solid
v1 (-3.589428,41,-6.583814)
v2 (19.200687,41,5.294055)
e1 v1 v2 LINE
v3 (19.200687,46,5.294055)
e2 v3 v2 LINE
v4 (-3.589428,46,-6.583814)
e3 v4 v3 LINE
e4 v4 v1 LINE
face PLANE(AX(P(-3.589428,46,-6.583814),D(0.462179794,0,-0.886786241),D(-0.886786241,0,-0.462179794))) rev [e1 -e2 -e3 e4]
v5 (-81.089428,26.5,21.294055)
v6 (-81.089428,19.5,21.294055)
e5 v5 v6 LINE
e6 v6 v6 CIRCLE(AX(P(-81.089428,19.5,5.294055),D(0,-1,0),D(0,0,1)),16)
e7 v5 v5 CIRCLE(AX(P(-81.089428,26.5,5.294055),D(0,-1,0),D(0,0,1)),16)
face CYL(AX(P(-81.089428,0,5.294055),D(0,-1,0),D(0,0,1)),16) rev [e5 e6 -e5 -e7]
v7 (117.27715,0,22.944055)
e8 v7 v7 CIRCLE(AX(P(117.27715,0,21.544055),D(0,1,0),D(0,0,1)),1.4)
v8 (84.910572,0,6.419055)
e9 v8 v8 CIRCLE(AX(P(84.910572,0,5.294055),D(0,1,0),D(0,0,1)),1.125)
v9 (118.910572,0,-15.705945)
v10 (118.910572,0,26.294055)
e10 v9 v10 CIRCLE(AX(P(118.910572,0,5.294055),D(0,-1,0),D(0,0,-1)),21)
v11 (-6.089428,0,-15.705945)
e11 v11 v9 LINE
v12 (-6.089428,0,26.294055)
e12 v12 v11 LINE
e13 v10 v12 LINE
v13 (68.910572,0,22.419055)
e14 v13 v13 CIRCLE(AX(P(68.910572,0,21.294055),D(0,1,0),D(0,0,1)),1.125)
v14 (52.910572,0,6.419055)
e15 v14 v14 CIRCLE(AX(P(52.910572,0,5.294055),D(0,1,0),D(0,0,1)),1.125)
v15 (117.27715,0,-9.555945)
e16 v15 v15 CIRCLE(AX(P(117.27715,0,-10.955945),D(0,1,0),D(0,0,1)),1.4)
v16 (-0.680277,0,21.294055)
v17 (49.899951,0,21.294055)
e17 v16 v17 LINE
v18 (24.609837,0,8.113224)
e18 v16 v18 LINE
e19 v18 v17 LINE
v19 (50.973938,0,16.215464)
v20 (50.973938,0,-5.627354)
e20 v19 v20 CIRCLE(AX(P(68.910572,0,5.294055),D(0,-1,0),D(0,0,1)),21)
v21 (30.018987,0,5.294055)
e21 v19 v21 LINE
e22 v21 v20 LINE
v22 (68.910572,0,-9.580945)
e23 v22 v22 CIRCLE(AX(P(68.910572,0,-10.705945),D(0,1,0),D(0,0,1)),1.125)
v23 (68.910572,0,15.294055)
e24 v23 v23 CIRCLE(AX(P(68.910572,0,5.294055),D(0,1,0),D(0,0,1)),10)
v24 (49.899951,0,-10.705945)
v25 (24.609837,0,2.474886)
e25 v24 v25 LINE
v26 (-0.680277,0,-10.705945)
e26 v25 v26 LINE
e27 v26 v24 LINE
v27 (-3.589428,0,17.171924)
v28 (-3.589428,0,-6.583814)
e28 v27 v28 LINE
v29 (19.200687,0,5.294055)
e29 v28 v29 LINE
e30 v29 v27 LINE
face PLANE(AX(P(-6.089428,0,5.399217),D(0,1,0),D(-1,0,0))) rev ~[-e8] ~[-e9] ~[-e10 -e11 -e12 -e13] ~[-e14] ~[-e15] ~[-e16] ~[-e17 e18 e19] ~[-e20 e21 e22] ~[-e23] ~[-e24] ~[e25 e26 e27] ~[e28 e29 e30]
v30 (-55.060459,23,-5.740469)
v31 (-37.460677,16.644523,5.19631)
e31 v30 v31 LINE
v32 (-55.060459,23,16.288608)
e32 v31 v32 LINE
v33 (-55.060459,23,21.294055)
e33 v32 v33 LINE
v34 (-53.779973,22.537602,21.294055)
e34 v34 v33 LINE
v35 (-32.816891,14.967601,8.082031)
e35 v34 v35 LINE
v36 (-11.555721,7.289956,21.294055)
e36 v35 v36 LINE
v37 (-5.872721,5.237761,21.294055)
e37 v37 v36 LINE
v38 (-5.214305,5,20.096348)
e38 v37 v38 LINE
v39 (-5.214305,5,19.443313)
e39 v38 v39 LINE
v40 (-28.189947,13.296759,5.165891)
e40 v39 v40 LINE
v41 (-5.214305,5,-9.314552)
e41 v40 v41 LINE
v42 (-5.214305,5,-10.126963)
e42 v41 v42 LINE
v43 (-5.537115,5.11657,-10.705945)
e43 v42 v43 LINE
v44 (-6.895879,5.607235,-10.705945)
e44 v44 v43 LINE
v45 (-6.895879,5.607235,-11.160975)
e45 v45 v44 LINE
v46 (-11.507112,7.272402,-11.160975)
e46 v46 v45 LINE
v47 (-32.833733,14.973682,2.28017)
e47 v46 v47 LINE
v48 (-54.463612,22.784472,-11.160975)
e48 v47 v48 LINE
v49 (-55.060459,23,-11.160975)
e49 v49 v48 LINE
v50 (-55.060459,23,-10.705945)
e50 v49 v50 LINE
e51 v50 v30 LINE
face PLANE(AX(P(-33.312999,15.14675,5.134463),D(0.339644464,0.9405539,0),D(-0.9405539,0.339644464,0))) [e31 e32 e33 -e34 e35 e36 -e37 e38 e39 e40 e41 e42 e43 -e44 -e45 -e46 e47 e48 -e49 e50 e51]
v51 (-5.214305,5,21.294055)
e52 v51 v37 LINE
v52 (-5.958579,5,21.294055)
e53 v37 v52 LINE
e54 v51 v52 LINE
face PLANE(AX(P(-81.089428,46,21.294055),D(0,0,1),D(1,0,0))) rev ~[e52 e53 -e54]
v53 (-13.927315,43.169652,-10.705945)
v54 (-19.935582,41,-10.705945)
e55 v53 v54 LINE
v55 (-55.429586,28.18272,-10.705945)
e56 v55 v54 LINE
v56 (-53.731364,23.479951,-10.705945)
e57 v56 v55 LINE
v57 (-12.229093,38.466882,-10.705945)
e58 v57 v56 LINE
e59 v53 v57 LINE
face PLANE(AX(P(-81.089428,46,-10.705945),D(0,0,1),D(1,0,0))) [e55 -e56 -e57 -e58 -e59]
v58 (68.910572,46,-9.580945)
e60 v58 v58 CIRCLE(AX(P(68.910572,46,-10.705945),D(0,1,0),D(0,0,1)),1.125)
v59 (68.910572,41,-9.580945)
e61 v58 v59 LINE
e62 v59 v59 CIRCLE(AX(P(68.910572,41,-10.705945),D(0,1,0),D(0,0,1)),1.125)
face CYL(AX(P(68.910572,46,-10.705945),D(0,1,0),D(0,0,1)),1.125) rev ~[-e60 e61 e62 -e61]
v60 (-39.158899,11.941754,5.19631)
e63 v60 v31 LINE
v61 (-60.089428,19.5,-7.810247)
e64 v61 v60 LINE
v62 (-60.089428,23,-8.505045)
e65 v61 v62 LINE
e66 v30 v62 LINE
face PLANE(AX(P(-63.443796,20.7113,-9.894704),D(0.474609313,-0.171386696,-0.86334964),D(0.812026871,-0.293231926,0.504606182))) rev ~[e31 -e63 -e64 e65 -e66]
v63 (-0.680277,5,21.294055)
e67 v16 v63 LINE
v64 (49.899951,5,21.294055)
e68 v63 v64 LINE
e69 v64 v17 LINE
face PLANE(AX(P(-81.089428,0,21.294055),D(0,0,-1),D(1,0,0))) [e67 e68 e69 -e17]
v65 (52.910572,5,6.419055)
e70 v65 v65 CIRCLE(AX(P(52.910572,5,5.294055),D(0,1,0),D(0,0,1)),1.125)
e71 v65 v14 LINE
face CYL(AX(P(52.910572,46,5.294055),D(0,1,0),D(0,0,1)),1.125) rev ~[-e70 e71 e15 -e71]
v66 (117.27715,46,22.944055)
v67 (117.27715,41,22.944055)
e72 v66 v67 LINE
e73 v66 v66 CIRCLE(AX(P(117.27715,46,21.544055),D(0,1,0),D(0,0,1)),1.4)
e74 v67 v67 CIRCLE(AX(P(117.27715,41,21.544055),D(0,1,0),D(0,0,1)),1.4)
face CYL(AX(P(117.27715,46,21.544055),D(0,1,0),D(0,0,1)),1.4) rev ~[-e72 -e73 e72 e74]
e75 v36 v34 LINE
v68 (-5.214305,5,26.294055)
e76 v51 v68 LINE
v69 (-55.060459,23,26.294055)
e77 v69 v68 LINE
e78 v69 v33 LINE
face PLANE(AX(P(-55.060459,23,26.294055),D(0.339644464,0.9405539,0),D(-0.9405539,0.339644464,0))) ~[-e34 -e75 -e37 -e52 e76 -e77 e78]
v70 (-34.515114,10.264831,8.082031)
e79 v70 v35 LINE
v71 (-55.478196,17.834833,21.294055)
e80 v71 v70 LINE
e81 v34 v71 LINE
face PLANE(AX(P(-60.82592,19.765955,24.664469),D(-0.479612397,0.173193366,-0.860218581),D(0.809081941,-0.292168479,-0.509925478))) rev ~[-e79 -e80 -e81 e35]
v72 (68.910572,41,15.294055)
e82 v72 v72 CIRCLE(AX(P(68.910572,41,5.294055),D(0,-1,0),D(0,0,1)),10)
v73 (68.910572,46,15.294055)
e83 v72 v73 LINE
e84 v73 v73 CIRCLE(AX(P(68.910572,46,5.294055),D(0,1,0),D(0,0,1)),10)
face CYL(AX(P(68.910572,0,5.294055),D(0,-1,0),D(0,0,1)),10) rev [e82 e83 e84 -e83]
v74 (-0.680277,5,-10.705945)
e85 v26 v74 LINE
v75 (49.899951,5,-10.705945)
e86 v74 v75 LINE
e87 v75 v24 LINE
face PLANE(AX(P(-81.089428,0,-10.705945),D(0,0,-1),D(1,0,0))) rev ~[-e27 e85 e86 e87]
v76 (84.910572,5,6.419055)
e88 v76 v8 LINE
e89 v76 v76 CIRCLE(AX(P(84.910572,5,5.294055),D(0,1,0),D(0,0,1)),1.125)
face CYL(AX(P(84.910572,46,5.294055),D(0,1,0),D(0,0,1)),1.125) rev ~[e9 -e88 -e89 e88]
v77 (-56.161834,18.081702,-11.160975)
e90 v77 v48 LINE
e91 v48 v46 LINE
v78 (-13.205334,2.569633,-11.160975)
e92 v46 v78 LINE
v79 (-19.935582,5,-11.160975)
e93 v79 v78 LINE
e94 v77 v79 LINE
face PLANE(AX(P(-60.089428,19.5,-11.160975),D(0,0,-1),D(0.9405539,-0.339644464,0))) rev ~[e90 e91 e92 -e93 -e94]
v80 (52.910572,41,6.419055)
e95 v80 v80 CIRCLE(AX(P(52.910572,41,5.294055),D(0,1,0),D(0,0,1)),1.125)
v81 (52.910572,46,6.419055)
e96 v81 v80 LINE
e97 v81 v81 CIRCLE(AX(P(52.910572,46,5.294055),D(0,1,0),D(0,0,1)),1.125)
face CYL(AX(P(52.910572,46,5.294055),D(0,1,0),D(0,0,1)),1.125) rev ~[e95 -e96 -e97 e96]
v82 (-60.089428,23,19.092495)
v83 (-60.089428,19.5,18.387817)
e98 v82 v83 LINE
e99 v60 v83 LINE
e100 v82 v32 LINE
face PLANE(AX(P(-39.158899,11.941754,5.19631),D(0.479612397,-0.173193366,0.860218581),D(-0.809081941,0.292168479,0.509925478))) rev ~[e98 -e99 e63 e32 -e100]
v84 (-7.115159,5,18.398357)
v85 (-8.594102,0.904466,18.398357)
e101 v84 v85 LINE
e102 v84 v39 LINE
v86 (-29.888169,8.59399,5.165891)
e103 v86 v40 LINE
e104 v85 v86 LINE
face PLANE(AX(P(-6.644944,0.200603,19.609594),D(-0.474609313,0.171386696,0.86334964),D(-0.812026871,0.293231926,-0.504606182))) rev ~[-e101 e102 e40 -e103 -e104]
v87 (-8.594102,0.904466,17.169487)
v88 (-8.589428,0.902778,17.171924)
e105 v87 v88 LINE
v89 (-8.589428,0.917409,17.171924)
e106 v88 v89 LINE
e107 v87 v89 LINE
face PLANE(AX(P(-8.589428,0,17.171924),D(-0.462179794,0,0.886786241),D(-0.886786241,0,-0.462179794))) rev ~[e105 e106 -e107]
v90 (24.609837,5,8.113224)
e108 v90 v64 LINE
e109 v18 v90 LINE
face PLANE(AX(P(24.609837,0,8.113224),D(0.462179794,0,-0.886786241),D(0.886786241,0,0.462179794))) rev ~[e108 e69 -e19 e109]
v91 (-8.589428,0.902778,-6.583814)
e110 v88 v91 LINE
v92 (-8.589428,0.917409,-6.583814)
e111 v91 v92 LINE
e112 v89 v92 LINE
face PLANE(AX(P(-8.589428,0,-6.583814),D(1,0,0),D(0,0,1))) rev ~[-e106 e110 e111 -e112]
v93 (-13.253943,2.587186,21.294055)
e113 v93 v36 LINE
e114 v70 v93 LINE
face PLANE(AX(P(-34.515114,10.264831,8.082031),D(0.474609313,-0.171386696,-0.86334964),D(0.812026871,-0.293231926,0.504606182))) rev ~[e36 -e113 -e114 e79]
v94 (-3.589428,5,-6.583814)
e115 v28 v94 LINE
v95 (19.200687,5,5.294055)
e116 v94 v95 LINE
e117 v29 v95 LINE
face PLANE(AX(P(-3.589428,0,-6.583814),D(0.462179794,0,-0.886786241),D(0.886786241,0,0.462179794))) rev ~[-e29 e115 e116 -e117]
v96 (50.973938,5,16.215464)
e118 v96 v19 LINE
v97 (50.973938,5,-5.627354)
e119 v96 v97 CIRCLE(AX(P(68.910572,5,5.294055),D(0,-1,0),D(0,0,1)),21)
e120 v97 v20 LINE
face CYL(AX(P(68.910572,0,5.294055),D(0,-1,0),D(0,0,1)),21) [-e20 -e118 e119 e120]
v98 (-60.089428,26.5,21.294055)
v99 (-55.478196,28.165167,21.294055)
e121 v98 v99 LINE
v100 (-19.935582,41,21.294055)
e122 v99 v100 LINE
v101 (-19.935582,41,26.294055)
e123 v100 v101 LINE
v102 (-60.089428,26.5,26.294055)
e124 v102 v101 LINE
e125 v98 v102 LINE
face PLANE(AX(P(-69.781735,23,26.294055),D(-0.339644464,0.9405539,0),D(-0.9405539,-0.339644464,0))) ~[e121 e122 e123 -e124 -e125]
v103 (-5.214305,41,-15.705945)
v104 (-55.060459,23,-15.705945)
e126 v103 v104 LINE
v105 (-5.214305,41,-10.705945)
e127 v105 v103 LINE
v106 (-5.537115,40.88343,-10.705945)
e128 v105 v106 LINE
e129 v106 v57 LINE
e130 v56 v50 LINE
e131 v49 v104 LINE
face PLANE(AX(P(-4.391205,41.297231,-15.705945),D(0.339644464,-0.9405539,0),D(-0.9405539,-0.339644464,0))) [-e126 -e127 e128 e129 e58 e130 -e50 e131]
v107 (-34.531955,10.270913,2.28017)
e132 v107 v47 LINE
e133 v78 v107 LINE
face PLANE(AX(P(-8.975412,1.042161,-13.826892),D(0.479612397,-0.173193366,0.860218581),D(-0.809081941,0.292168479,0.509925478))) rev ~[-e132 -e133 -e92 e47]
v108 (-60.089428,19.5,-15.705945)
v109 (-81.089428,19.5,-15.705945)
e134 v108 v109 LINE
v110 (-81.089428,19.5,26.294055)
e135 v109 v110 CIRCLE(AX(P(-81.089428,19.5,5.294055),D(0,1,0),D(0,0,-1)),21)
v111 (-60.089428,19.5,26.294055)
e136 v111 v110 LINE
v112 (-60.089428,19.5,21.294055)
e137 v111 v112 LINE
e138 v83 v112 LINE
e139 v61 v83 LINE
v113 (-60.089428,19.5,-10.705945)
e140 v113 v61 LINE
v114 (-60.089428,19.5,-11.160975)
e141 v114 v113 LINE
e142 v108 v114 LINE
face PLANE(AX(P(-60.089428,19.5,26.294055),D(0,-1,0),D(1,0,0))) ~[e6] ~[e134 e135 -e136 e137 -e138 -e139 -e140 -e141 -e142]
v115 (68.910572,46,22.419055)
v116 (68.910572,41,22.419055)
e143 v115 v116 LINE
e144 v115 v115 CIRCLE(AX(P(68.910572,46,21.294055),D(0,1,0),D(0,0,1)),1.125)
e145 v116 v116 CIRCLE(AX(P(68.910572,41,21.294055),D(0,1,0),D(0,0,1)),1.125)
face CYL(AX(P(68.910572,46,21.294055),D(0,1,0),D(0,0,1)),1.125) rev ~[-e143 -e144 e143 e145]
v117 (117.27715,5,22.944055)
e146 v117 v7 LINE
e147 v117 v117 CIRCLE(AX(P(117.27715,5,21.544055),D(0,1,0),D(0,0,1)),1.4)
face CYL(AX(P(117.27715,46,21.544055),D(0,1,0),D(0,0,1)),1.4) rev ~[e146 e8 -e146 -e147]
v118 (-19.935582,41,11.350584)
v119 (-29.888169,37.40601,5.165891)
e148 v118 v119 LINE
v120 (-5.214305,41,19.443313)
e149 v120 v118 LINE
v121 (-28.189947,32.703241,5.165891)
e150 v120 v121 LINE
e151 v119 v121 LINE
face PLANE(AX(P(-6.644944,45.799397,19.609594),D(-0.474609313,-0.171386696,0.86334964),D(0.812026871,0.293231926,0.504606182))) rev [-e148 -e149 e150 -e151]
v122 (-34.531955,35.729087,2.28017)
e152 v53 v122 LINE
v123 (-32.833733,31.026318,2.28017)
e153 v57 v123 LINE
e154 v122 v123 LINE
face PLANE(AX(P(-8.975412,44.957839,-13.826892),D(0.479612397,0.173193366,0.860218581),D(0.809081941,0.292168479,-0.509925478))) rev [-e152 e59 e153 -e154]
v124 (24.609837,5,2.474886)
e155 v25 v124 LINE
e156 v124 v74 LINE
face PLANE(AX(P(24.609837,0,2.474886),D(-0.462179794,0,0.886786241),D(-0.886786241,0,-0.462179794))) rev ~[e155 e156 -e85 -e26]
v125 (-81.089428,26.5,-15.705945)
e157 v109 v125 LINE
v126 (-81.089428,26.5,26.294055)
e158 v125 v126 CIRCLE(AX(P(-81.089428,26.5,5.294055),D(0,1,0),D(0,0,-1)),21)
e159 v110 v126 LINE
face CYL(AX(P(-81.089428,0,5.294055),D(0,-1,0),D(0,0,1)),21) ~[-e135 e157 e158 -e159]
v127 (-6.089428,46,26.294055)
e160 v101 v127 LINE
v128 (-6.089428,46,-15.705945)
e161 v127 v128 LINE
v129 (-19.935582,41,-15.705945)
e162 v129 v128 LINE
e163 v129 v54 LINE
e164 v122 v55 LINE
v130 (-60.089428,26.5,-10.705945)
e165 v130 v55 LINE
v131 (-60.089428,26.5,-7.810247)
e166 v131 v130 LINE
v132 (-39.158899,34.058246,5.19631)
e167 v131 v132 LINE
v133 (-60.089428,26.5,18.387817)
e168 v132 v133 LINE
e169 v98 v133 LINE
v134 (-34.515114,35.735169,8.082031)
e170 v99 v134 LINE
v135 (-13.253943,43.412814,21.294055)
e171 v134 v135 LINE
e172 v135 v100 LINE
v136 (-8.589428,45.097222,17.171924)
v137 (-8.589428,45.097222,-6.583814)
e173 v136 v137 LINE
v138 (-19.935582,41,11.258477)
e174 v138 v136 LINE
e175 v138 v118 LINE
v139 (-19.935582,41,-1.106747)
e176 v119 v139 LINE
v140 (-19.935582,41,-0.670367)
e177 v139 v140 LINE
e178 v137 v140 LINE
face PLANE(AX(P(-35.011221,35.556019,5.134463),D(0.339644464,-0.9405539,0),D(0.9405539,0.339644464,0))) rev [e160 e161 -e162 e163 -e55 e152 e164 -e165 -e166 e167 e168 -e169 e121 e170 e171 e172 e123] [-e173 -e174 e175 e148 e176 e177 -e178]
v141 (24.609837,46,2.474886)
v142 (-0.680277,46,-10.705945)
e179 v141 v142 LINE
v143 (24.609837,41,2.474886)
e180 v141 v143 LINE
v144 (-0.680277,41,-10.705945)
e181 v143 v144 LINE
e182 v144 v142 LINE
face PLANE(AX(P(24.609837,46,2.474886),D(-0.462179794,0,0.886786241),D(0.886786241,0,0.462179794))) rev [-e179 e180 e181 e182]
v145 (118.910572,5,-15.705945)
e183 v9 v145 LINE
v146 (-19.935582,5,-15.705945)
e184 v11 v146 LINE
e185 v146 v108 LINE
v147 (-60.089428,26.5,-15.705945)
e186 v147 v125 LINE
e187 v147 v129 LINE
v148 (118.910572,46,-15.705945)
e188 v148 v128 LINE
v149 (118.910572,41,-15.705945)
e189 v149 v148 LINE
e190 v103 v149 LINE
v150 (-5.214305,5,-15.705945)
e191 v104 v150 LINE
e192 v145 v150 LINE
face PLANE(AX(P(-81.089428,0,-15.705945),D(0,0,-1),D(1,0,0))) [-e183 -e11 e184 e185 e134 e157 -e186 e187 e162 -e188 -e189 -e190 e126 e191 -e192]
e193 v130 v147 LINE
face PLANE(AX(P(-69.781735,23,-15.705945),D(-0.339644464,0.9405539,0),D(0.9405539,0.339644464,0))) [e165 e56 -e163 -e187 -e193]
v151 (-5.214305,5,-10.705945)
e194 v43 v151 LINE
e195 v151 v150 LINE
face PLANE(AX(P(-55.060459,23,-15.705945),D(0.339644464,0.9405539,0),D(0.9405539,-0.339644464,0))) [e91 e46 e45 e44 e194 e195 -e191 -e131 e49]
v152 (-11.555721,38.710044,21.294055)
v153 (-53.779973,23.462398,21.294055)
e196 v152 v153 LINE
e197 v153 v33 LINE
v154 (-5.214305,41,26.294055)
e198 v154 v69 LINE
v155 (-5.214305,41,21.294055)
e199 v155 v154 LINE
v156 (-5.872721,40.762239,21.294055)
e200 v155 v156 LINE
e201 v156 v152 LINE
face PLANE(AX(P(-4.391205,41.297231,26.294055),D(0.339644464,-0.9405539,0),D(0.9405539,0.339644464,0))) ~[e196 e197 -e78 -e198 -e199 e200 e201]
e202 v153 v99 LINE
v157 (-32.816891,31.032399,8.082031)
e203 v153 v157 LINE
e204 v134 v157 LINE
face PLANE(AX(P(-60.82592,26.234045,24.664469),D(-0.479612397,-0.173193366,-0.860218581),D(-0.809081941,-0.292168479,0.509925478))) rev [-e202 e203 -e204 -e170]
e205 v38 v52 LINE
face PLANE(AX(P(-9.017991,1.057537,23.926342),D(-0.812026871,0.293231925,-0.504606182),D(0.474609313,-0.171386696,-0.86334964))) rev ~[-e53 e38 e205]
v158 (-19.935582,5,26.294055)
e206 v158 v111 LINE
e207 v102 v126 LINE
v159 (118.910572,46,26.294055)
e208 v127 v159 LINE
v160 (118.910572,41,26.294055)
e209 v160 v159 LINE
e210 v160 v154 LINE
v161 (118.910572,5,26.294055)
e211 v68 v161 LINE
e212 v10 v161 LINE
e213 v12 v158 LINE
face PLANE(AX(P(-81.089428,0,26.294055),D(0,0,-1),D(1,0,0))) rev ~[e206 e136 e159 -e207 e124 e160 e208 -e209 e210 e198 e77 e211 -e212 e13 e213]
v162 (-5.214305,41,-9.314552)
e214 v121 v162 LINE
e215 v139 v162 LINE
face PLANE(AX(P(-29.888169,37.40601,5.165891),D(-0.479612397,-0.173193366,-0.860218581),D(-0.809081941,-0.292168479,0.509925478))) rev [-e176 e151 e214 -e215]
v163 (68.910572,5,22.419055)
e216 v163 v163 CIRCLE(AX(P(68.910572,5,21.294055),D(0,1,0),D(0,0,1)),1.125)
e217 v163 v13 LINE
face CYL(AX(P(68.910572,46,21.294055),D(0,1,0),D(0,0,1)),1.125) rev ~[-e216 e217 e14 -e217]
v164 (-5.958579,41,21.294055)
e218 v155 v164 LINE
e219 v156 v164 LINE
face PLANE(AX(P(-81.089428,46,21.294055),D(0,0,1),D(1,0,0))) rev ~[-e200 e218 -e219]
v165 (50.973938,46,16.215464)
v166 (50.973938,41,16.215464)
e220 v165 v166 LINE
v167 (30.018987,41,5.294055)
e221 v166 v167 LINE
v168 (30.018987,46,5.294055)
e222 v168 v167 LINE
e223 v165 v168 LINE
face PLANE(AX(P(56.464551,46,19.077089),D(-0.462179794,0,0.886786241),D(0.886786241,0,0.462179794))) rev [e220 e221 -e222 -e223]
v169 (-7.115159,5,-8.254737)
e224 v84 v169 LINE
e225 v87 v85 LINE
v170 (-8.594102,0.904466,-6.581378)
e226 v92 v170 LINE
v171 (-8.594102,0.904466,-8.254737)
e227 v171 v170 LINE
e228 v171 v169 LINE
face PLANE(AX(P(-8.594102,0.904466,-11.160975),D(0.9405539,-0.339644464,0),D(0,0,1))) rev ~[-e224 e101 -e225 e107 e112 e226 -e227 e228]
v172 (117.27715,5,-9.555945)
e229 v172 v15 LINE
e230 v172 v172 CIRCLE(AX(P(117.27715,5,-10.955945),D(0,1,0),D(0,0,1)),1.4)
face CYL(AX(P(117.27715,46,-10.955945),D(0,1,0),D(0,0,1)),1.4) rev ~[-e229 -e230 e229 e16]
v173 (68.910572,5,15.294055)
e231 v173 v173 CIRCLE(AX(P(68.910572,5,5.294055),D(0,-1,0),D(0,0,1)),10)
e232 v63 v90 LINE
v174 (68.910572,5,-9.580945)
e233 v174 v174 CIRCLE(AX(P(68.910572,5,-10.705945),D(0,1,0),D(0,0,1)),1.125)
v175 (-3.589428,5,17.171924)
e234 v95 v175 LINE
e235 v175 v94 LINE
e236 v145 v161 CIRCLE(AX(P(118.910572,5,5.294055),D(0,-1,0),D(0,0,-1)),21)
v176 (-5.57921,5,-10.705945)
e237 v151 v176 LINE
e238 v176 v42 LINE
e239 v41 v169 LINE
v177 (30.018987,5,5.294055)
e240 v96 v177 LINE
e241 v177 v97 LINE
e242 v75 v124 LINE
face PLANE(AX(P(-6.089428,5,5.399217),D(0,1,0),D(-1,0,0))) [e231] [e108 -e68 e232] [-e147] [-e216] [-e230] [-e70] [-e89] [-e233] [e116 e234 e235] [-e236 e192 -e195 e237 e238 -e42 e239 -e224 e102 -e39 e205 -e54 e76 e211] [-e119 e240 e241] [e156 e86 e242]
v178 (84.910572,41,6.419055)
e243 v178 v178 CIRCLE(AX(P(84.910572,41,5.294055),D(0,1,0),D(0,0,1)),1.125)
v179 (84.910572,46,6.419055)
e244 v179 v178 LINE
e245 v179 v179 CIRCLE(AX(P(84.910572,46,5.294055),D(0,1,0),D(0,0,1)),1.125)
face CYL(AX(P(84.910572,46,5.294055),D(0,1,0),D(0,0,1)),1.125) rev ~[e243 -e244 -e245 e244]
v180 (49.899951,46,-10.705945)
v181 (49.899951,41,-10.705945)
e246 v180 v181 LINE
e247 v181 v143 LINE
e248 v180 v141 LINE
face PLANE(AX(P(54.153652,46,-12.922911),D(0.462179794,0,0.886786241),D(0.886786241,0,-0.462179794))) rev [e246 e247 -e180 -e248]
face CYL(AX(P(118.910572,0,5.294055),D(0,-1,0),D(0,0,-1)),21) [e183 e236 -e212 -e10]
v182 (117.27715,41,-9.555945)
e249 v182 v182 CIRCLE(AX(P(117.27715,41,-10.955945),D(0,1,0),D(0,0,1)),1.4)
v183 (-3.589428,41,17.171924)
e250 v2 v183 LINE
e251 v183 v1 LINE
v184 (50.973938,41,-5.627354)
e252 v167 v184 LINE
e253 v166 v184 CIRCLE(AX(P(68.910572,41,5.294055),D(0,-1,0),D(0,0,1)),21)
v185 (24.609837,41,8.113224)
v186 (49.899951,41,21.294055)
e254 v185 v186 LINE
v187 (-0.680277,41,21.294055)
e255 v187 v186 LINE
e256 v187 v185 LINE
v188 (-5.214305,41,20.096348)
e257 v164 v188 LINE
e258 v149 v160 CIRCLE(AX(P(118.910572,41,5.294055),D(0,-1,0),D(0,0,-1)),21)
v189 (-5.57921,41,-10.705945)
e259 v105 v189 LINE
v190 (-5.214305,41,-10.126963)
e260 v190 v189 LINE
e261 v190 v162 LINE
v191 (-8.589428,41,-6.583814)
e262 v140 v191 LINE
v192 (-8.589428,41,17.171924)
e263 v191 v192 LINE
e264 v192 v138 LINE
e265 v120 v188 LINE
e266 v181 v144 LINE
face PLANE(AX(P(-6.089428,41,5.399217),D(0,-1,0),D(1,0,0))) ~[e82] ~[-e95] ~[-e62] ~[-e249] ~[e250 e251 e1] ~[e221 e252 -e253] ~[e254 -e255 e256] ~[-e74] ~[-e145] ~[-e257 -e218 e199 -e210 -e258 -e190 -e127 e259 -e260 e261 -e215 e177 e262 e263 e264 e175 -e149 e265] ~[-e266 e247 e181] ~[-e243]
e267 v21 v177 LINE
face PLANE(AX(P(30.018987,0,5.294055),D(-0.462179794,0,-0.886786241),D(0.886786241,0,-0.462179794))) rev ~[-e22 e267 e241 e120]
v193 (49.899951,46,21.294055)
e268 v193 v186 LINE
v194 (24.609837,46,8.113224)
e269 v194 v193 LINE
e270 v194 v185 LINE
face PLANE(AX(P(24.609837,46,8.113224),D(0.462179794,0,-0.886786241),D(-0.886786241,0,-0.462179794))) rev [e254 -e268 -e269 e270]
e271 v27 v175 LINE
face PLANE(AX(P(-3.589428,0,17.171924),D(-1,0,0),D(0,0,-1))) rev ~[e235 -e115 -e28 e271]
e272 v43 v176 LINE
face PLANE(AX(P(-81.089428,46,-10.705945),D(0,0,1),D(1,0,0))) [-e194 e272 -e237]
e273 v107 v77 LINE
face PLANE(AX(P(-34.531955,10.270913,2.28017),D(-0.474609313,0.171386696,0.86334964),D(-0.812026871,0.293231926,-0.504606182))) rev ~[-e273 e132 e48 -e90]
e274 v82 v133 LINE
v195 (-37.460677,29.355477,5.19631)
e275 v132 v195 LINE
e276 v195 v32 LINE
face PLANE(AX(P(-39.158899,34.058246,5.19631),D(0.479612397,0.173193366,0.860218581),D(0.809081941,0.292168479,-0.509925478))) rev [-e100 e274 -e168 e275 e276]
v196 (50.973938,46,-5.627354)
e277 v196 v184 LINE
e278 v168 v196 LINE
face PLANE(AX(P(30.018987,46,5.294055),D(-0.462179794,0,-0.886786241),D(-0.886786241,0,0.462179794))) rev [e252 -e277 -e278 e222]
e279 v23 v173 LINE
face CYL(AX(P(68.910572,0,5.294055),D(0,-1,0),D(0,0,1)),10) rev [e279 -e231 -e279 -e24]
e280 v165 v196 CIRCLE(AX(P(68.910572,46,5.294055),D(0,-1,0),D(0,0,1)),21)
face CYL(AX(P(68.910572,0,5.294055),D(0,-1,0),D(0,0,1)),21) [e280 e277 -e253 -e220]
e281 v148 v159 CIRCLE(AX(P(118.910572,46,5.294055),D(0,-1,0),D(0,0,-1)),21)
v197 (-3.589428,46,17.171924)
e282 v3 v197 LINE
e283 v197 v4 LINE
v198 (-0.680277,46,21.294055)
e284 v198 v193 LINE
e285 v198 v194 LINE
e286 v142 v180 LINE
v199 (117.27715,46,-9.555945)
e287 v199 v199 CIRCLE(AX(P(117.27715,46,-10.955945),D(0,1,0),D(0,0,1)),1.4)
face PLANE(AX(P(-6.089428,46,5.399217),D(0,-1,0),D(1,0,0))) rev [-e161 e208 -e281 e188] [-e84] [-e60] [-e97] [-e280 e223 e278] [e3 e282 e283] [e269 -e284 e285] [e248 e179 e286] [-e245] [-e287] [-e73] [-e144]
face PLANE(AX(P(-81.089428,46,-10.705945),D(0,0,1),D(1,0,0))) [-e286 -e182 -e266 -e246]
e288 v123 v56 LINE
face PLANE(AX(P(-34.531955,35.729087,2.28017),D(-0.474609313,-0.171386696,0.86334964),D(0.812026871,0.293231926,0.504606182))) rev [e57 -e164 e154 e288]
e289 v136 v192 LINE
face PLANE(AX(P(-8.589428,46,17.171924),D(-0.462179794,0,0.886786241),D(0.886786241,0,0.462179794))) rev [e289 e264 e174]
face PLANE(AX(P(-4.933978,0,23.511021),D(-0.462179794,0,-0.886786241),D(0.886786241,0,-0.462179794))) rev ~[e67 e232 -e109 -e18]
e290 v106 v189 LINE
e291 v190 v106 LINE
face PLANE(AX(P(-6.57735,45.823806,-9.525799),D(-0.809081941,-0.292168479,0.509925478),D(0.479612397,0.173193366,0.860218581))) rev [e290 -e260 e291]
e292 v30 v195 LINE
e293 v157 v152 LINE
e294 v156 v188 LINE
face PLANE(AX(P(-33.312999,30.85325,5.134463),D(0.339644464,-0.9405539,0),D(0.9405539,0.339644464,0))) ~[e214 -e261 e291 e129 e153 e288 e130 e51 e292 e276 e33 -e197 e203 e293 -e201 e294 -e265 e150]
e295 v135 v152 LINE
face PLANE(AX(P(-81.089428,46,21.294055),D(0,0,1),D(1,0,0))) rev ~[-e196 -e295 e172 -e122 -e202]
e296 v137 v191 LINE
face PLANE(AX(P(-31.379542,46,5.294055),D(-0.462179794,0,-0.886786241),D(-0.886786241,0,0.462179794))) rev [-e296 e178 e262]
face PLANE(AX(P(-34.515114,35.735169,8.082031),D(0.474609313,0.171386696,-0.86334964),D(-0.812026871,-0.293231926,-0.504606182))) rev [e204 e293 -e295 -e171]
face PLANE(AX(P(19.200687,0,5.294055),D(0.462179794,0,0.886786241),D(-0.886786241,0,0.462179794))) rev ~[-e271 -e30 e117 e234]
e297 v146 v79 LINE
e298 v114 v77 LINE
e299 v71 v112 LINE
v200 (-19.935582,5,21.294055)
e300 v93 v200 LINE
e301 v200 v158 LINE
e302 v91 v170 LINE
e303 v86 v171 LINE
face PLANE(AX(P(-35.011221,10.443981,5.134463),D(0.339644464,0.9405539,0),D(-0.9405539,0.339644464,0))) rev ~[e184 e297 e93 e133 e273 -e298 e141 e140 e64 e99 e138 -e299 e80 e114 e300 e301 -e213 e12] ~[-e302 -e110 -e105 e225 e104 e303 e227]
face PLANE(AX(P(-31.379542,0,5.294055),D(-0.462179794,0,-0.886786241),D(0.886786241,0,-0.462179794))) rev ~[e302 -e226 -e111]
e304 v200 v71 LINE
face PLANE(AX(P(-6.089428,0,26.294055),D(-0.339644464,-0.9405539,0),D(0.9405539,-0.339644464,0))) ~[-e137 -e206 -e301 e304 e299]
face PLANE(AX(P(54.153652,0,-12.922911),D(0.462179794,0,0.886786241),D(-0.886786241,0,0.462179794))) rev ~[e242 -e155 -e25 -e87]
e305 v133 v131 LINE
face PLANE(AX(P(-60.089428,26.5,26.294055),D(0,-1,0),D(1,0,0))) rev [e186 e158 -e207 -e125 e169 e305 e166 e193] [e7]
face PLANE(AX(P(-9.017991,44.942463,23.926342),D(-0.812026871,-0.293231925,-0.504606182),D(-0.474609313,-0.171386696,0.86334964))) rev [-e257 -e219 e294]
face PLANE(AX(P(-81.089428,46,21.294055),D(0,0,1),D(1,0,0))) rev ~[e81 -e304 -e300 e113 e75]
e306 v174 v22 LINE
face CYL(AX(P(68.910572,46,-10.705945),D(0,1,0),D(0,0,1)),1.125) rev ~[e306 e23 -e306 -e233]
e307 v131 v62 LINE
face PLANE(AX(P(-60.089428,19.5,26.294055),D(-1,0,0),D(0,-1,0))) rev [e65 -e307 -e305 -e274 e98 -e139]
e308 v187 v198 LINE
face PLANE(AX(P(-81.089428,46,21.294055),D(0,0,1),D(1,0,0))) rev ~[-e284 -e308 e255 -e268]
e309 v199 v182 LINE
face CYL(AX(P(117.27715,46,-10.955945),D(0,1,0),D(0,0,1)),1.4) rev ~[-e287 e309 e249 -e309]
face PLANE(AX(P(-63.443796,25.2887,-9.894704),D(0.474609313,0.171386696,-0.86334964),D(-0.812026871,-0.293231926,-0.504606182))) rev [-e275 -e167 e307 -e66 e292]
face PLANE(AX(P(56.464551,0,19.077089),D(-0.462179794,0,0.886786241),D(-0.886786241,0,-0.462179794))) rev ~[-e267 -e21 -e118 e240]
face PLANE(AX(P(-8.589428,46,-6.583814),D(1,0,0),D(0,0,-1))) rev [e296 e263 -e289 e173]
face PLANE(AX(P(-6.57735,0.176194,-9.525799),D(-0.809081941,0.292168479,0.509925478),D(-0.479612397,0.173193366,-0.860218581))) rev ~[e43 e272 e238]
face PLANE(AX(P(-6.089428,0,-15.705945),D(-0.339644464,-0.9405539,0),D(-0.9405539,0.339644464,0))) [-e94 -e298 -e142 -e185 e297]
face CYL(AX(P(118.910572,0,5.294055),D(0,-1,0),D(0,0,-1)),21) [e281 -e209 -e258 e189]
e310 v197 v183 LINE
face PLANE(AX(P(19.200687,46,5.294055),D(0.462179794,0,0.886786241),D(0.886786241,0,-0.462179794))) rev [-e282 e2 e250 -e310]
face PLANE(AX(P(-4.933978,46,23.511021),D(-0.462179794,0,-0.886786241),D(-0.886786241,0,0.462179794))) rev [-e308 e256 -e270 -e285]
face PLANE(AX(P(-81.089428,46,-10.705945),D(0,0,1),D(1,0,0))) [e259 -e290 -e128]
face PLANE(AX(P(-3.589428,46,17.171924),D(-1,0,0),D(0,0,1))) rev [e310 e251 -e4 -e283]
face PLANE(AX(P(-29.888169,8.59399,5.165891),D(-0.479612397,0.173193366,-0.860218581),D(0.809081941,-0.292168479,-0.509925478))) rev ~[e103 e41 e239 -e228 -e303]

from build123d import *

# Parameters (mm, degrees)
SKETCH_1_R               = 21
SKETCH_1_R_2             = 16
EXTRUDE_1_DEPTH          = 46
SKETCH_1_R_3             = 10
EXTRUDE_1_2_DEPTH        = 46
SKETCH_2_W               = 150
SKETCH_2_H               = 5
EXTRUDE_3_DEPTH          = 5
SKETCH_3_W               = 150
SKETCH_3_H               = 5
EXTRUDE_4_DEPTH          = 5
EXTRUDE_5_DEPTH          = 5
SKETCH_6_W               = 169.409921662
SKETCH_6_H               = 36
CUT_EXTRUDE_1_DEPTH      = 42
CUT_EXTRUDE_4_REACH      = 155.15
EXTRUDE_7_DEPTH          = 5
EXTRUDE_8_REACH          = 155.15
EXTRUDE_8_END_RADIUS     = 21
SKETCH_10_W              = 21
SKETCH_10_H              = 7
SKETCH_11_W              = 54.75
SKETCH_11_H              = 32.4550301
CUT_EXTRUDE_5_DEPTH      = 5
EXTRUDE_15_DEPTH         = 5
SKETCH_13_R              = 1.125
CUT_EXTRUDE_6_DEPTH      = 150.607304507
CUT_EXTRUDE_6_DEPTH_BACK = 150.607304507
SKETCH_14_R              = 1.4
CUT_EXTRUDE_7_DEPTH      = 150.607304507
CUT_EXTRUDE_7_DEPTH_BACK = 150.607304507


with BuildPart() as part:
    # 스케치1 → 보스-돌출1 (new body)
    with BuildSketch(Plane(origin=(0, 0, 0), x_dir=(1, 0, 0), z_dir=(0, 1, 0))):
        with Locations(Location((-81.089427727, -5.294054995, 0), (0, 0, 270))):
            Circle(SKETCH_1_R)
        with Locations(Location((-81.089427727, -5.294054995, 0), (0, 0, 270))):
            Circle(SKETCH_1_R_2, mode=Mode.SUBTRACT)
    extrude(amount=EXTRUDE_1_DEPTH)



with BuildPart() as body_2:
    # 스케치1 → Extrude 1 2 (new body)
    with BuildSketch(Plane(origin=(0, 0, 0), x_dir=(1, 0, 0), z_dir=(0, 1, 0))):
        with BuildLine():
            Line((68.910572273, 15.705945005), (118.910572273, 15.705945005))
            ThreePointArc((118.910572273, 15.705945005), (139.910572273, -5.294054995), (118.910572273, -26.294054995))
            Line((118.910572273, -26.294054995), (68.910572273, -26.294054995))
            ThreePointArc((68.910572273, -26.294054995), (47.910572273, -5.294054995), (68.910572273, 15.705945005))
        make_face()
        with Locations(Location((68.910572273, -5.294054995, 0), (0, 0, 270))):
            Circle(SKETCH_1_R_3, mode=Mode.SUBTRACT)
    extrude(amount=EXTRUDE_1_2_DEPTH)


with BuildPart() as part_1:
    add(part.part)

    add(body_2.part)  # 보스-돌출3 merges body 2
    # 스케치2 → 보스-돌출3 (add)
    with BuildSketch(Plane(origin=(0, 46, 0), x_dir=(1, 0, 0), z_dir=(0, 1, 0))):
        with Locations((-6.089427727, -23.794054995)):
            Rectangle(SKETCH_2_W, SKETCH_2_H)
        with Locations((-6.089427727, 13.205945005)):
            Rectangle(SKETCH_2_W, SKETCH_2_H)
    extrude(amount=-EXTRUDE_3_DEPTH)

    # 스케치3 → 보스-돌출4 (add)
    with BuildSketch(Plane.XZ):
        with Locations((-6.089427727, -13.205945005)):
            Rectangle(SKETCH_3_W, SKETCH_3_H)
        with Locations((-6.089427727, 23.794054995)):
            Rectangle(SKETCH_3_W, SKETCH_3_H)
    extrude(amount=-EXTRUDE_4_DEPTH)

    # 스케치4 → 보스-돌출5 (add)
    with BuildSketch(Plane.XZ):
        Polygon((-36.788692473, 8.113223678), (-7.244877213, 23.511020598), (-6.089427727, 21.294054995), (-4.933978242, 23.511020598), (24.609837018, 8.113223678), (54.153652279, 23.511020598), (56.46455125, 19.077089392), (30.018987378, 5.294054995), (56.46455125, -8.488979402), (54.153652279, -12.922910608), (24.609837018, 2.474886312), (-4.933978242, -12.922910608), (-7.244877213, -12.922910608), (-36.788692473, 2.474886312), (-66.332507733, -12.922910608), (-68.643406704, -8.488979402), (-42.197842833, 5.294054995), (-68.643406704, 19.077089392), (-66.332507733, 23.511020598), align=None)
        Polygon((-31.379542113, 5.294054995), (-8.589427727, -6.583813521), (-8.589427727, 17.17192351), align=None, mode=Mode.SUBTRACT)
        Polygon((-3.589427727, -6.583813521), (19.200686659, 5.294054995), (-3.589427727, 17.17192351), align=None, mode=Mode.SUBTRACT)
    extrude_5 = extrude(amount=-EXTRUDE_5_DEPTH)

    # 스케치6 → 컷-돌출1 (cut)
    with BuildSketch(Plane(origin=(0, 0, -15.705945005), x_dir=(-1, 0, 0), z_dir=(0, 0, -1))):
        with Locations((-75.35345041, 23)):
            Rectangle(SKETCH_6_W, SKETCH_6_H)
    extrude(amount=-CUT_EXTRUDE_1_DEPTH, mode=Mode.SUBTRACT)

    # 대칭 복사1: 보스-돌출5 across plane
    add(extrude_5.mirror(Plane.ZX.offset(23)))

    # 컷-돌출4: up to this face of the body (flat: up to its plane)
    cut_extrude_4_end = Plane(part_1.part.faces().sort_by_distance((18.910572273, 43.5, 26.294054995))[0])
    # 스케치7 → 컷-돌출4 (cut, up to the picked face)
    with BuildSketch(Plane(origin=(0, 0, -15.705945005), x_dir=(-1, 0, 0), z_dir=(0, 0, -1)), mode=Mode.PRIVATE) as cut_extrude_4_sk1:
        Polygon((6.089427727, 0), (60.089427727, 19.5), (108.089427727, 19.5), (108.089427727, 26.5), (60.089427727, 26.5), (6.089427727, 46), (127.814090618, 46), (127.814090618, 0), align=None)
    cut_extrude_4_tool1 = split(extrude(cut_extrude_4_sk1.sketch, amount=-CUT_EXTRUDE_4_REACH, mode=Mode.PRIVATE), bisect_by=cut_extrude_4_end, keep=Keep.BOTH, mode=Mode.PRIVATE)
    add(cut_extrude_4_tool1.solids().sort_by(Axis((-33.531395, 8.526091, -15.705945), (0, 0, 1)))[0], mode=Mode.SUBTRACT)


with BuildPart() as cut_extrude_4_piece_1:
    # of the separate pieces the step leaves, piece 1, a body of its own (cut_extrude_4_pieces)
    add(part_1.part.solids().sort_by_distance((-6.089427727, 0, -15.705945005))[0])



with BuildPart() as cut_extrude_4_piece_2:
    # of the separate pieces the step leaves, piece 2, a body of its own (cut_extrude_4_pieces)
    add(part_1.part.solids().sort_by_distance((118.910572273, 41, 26.294054995))[0])


with BuildPart() as cut_extrude_4_piece_3:
    # of the separate pieces the step leaves, piece 3, a body of its own (cut_extrude_4_pieces)
    add(part_1.part.solids().sort_by_distance((-81.089427727, 19.5, 26.294054995))[0])


with BuildPart() as cut_extrude_4_piece_1_1:
    add(cut_extrude_4_piece_1.part)

    add(cut_extrude_4_piece_2.part)  # 보스-돌출7 merges 컷-돌출4 piece 2

    add(cut_extrude_4_piece_3.part)  # 보스-돌출7 merges 컷-돌출4 piece 3
    # 스케치9 → 보스-돌출7 (add)
    with BuildSketch(Plane(origin=(0, 0, -15.705945005), x_dir=(-1, 0, 0), z_dir=(0, 0, -1))):
        Polygon((4.391205408, 41.297230502), (55.060459105, 23), (4.391205408, 4.702769498), (6.089427727, 0), (69.781735419, 23), (6.089427727, 46), align=None)
    extrude_7 = extrude(amount=-EXTRUDE_7_DEPTH)

    # 보스-돌출8: up to this cylinder (the profile starts outside it)
    extrude_8_end = Plane(origin=(-81.089427727, 23, 5.294054995), z_dir=(0, -1, 0)) * Cylinder(EXTRUDE_8_END_RADIUS, 353.3, mode=Mode.PRIVATE)
    # 스케치10 → 보스-돌출8 (add, up to the surface)
    with BuildSketch(Plane(origin=(0, 0, -15.705945005), x_dir=(-1, 0, 0), z_dir=(0, 0, -1)), mode=Mode.PRIVATE) as extrude_8_sk1:
        with Locations((70.589427727, 23)):
            Rectangle(SKETCH_10_W, SKETCH_10_H)
    extrude_8_tool1 = extrude(extrude_8_sk1.sketch, amount=-EXTRUDE_8_REACH, mode=Mode.PRIVATE) - extrude_8_end
    extrude_8 = extrude_8_tool1.solids().sort_by_distance((-70.589428, 23, -15.705945))[0]
    add(extrude_8)

    # 대칭 복사2: 보스-돌출7, 보스-돌출8 across plane
    add(extrude_7.mirror(Plane(origin=(0, 0, 5.294054995), x_dir=(1, 0, 0), z_dir=(0, 0, -1))))
    add(extrude_8.mirror(Plane(origin=(0, 0, 5.294054995), x_dir=(1, 0, 0), z_dir=(0, 0, -1))))

    # 스케치11 → 컷-돌출5 (cut)
    with BuildSketch(Plane(origin=(-0.702466407, -1.945291588, 0), x_dir=(0.9405538996916954, -0.3396444637775568, 0), z_dir=(-0.3396444637775568, -0.9405538996916956, 0))):
        with Locations((-35.765412623, 5.066539945)):
            Rectangle(SKETCH_11_W, SKETCH_11_H)
    extrude(amount=-CUT_EXTRUDE_5_DEPTH, mode=Mode.SUBTRACT)

    # 스케치12 → 보스-돌출15 (add)
    with BuildSketch(Plane(origin=(-0.702466407, -1.945291588, 0), x_dir=(0.9405538996916956, -0.33964446377755675, 0), z_dir=(-0.33964446377755675, -0.9405538996916956, 0))):
        Polygon((-31.030335125, 5.165890673), (-6.246195793, -9.525798606), (-8.795823184, -13.826891509), (-35.96762349, 2.280169619), (-64.18375705, -14.211451822), (-66.706787961, -9.894703622), (-40.887006083, 5.196310444), (-66.473080759, 20.363375718), (-63.923453368, 24.664468621), (-35.949717718, 8.082031497), (-8.84109266, 23.926342034), (-6.318061748, 19.609593834), align=None)
    extrude_15 = extrude(amount=-EXTRUDE_15_DEPTH)

    # 대칭 복사3: 보스-돌출15 across plane
    add(extrude_15.mirror(Plane.ZX.offset(23)))

    # 스케치13 → 컷-돌출6 (cut, two sides)
    with BuildSketch(Plane(origin=(0, 46, 0), x_dir=(1, 0, 0), z_dir=(0, 1, 0))) as cut_extrude_6_sk:
        with Locations(Location((84.910572273, -5.294054995, 0), (0, 0, 270))):
            Circle(SKETCH_13_R)
        with Locations(Location((52.910572273, -5.294054995, 0), (0, 0, 270))):
            Circle(SKETCH_13_R)
        with Locations(Location((68.910572273, -21.294054995, 0), (0, 0, 270))):
            Circle(SKETCH_13_R)
        with Locations(Location((68.910572273, 10.705945005, 0), (0, 0, 270))):
            Circle(SKETCH_13_R)
    extrude(amount=CUT_EXTRUDE_6_DEPTH, mode=Mode.SUBTRACT)
    extrude(cut_extrude_6_sk.sketch, amount=-CUT_EXTRUDE_6_DEPTH_BACK, mode=Mode.SUBTRACT)

    # 스케치14 → 컷-돌출7 (cut, two sides)
    with BuildSketch(Plane(origin=(0, 46, 0), x_dir=(1, 0, 0), z_dir=(0, 1, 0))) as cut_extrude_7_sk:
        with Locations(Location((117.277150097, 10.955945005, 0), (0, 0, 270))):
            Circle(SKETCH_14_R)
        with Locations(Location((117.277150097, -21.544054995, 0), (0, 0, 270))):
            Circle(SKETCH_14_R)
    extrude(amount=CUT_EXTRUDE_7_DEPTH, mode=Mode.SUBTRACT)
    extrude(cut_extrude_7_sk.sketch, amount=-CUT_EXTRUDE_7_DEPTH_BACK, mode=Mode.SUBTRACT)


solid = cut_extrude_4_piece_1_1.part
